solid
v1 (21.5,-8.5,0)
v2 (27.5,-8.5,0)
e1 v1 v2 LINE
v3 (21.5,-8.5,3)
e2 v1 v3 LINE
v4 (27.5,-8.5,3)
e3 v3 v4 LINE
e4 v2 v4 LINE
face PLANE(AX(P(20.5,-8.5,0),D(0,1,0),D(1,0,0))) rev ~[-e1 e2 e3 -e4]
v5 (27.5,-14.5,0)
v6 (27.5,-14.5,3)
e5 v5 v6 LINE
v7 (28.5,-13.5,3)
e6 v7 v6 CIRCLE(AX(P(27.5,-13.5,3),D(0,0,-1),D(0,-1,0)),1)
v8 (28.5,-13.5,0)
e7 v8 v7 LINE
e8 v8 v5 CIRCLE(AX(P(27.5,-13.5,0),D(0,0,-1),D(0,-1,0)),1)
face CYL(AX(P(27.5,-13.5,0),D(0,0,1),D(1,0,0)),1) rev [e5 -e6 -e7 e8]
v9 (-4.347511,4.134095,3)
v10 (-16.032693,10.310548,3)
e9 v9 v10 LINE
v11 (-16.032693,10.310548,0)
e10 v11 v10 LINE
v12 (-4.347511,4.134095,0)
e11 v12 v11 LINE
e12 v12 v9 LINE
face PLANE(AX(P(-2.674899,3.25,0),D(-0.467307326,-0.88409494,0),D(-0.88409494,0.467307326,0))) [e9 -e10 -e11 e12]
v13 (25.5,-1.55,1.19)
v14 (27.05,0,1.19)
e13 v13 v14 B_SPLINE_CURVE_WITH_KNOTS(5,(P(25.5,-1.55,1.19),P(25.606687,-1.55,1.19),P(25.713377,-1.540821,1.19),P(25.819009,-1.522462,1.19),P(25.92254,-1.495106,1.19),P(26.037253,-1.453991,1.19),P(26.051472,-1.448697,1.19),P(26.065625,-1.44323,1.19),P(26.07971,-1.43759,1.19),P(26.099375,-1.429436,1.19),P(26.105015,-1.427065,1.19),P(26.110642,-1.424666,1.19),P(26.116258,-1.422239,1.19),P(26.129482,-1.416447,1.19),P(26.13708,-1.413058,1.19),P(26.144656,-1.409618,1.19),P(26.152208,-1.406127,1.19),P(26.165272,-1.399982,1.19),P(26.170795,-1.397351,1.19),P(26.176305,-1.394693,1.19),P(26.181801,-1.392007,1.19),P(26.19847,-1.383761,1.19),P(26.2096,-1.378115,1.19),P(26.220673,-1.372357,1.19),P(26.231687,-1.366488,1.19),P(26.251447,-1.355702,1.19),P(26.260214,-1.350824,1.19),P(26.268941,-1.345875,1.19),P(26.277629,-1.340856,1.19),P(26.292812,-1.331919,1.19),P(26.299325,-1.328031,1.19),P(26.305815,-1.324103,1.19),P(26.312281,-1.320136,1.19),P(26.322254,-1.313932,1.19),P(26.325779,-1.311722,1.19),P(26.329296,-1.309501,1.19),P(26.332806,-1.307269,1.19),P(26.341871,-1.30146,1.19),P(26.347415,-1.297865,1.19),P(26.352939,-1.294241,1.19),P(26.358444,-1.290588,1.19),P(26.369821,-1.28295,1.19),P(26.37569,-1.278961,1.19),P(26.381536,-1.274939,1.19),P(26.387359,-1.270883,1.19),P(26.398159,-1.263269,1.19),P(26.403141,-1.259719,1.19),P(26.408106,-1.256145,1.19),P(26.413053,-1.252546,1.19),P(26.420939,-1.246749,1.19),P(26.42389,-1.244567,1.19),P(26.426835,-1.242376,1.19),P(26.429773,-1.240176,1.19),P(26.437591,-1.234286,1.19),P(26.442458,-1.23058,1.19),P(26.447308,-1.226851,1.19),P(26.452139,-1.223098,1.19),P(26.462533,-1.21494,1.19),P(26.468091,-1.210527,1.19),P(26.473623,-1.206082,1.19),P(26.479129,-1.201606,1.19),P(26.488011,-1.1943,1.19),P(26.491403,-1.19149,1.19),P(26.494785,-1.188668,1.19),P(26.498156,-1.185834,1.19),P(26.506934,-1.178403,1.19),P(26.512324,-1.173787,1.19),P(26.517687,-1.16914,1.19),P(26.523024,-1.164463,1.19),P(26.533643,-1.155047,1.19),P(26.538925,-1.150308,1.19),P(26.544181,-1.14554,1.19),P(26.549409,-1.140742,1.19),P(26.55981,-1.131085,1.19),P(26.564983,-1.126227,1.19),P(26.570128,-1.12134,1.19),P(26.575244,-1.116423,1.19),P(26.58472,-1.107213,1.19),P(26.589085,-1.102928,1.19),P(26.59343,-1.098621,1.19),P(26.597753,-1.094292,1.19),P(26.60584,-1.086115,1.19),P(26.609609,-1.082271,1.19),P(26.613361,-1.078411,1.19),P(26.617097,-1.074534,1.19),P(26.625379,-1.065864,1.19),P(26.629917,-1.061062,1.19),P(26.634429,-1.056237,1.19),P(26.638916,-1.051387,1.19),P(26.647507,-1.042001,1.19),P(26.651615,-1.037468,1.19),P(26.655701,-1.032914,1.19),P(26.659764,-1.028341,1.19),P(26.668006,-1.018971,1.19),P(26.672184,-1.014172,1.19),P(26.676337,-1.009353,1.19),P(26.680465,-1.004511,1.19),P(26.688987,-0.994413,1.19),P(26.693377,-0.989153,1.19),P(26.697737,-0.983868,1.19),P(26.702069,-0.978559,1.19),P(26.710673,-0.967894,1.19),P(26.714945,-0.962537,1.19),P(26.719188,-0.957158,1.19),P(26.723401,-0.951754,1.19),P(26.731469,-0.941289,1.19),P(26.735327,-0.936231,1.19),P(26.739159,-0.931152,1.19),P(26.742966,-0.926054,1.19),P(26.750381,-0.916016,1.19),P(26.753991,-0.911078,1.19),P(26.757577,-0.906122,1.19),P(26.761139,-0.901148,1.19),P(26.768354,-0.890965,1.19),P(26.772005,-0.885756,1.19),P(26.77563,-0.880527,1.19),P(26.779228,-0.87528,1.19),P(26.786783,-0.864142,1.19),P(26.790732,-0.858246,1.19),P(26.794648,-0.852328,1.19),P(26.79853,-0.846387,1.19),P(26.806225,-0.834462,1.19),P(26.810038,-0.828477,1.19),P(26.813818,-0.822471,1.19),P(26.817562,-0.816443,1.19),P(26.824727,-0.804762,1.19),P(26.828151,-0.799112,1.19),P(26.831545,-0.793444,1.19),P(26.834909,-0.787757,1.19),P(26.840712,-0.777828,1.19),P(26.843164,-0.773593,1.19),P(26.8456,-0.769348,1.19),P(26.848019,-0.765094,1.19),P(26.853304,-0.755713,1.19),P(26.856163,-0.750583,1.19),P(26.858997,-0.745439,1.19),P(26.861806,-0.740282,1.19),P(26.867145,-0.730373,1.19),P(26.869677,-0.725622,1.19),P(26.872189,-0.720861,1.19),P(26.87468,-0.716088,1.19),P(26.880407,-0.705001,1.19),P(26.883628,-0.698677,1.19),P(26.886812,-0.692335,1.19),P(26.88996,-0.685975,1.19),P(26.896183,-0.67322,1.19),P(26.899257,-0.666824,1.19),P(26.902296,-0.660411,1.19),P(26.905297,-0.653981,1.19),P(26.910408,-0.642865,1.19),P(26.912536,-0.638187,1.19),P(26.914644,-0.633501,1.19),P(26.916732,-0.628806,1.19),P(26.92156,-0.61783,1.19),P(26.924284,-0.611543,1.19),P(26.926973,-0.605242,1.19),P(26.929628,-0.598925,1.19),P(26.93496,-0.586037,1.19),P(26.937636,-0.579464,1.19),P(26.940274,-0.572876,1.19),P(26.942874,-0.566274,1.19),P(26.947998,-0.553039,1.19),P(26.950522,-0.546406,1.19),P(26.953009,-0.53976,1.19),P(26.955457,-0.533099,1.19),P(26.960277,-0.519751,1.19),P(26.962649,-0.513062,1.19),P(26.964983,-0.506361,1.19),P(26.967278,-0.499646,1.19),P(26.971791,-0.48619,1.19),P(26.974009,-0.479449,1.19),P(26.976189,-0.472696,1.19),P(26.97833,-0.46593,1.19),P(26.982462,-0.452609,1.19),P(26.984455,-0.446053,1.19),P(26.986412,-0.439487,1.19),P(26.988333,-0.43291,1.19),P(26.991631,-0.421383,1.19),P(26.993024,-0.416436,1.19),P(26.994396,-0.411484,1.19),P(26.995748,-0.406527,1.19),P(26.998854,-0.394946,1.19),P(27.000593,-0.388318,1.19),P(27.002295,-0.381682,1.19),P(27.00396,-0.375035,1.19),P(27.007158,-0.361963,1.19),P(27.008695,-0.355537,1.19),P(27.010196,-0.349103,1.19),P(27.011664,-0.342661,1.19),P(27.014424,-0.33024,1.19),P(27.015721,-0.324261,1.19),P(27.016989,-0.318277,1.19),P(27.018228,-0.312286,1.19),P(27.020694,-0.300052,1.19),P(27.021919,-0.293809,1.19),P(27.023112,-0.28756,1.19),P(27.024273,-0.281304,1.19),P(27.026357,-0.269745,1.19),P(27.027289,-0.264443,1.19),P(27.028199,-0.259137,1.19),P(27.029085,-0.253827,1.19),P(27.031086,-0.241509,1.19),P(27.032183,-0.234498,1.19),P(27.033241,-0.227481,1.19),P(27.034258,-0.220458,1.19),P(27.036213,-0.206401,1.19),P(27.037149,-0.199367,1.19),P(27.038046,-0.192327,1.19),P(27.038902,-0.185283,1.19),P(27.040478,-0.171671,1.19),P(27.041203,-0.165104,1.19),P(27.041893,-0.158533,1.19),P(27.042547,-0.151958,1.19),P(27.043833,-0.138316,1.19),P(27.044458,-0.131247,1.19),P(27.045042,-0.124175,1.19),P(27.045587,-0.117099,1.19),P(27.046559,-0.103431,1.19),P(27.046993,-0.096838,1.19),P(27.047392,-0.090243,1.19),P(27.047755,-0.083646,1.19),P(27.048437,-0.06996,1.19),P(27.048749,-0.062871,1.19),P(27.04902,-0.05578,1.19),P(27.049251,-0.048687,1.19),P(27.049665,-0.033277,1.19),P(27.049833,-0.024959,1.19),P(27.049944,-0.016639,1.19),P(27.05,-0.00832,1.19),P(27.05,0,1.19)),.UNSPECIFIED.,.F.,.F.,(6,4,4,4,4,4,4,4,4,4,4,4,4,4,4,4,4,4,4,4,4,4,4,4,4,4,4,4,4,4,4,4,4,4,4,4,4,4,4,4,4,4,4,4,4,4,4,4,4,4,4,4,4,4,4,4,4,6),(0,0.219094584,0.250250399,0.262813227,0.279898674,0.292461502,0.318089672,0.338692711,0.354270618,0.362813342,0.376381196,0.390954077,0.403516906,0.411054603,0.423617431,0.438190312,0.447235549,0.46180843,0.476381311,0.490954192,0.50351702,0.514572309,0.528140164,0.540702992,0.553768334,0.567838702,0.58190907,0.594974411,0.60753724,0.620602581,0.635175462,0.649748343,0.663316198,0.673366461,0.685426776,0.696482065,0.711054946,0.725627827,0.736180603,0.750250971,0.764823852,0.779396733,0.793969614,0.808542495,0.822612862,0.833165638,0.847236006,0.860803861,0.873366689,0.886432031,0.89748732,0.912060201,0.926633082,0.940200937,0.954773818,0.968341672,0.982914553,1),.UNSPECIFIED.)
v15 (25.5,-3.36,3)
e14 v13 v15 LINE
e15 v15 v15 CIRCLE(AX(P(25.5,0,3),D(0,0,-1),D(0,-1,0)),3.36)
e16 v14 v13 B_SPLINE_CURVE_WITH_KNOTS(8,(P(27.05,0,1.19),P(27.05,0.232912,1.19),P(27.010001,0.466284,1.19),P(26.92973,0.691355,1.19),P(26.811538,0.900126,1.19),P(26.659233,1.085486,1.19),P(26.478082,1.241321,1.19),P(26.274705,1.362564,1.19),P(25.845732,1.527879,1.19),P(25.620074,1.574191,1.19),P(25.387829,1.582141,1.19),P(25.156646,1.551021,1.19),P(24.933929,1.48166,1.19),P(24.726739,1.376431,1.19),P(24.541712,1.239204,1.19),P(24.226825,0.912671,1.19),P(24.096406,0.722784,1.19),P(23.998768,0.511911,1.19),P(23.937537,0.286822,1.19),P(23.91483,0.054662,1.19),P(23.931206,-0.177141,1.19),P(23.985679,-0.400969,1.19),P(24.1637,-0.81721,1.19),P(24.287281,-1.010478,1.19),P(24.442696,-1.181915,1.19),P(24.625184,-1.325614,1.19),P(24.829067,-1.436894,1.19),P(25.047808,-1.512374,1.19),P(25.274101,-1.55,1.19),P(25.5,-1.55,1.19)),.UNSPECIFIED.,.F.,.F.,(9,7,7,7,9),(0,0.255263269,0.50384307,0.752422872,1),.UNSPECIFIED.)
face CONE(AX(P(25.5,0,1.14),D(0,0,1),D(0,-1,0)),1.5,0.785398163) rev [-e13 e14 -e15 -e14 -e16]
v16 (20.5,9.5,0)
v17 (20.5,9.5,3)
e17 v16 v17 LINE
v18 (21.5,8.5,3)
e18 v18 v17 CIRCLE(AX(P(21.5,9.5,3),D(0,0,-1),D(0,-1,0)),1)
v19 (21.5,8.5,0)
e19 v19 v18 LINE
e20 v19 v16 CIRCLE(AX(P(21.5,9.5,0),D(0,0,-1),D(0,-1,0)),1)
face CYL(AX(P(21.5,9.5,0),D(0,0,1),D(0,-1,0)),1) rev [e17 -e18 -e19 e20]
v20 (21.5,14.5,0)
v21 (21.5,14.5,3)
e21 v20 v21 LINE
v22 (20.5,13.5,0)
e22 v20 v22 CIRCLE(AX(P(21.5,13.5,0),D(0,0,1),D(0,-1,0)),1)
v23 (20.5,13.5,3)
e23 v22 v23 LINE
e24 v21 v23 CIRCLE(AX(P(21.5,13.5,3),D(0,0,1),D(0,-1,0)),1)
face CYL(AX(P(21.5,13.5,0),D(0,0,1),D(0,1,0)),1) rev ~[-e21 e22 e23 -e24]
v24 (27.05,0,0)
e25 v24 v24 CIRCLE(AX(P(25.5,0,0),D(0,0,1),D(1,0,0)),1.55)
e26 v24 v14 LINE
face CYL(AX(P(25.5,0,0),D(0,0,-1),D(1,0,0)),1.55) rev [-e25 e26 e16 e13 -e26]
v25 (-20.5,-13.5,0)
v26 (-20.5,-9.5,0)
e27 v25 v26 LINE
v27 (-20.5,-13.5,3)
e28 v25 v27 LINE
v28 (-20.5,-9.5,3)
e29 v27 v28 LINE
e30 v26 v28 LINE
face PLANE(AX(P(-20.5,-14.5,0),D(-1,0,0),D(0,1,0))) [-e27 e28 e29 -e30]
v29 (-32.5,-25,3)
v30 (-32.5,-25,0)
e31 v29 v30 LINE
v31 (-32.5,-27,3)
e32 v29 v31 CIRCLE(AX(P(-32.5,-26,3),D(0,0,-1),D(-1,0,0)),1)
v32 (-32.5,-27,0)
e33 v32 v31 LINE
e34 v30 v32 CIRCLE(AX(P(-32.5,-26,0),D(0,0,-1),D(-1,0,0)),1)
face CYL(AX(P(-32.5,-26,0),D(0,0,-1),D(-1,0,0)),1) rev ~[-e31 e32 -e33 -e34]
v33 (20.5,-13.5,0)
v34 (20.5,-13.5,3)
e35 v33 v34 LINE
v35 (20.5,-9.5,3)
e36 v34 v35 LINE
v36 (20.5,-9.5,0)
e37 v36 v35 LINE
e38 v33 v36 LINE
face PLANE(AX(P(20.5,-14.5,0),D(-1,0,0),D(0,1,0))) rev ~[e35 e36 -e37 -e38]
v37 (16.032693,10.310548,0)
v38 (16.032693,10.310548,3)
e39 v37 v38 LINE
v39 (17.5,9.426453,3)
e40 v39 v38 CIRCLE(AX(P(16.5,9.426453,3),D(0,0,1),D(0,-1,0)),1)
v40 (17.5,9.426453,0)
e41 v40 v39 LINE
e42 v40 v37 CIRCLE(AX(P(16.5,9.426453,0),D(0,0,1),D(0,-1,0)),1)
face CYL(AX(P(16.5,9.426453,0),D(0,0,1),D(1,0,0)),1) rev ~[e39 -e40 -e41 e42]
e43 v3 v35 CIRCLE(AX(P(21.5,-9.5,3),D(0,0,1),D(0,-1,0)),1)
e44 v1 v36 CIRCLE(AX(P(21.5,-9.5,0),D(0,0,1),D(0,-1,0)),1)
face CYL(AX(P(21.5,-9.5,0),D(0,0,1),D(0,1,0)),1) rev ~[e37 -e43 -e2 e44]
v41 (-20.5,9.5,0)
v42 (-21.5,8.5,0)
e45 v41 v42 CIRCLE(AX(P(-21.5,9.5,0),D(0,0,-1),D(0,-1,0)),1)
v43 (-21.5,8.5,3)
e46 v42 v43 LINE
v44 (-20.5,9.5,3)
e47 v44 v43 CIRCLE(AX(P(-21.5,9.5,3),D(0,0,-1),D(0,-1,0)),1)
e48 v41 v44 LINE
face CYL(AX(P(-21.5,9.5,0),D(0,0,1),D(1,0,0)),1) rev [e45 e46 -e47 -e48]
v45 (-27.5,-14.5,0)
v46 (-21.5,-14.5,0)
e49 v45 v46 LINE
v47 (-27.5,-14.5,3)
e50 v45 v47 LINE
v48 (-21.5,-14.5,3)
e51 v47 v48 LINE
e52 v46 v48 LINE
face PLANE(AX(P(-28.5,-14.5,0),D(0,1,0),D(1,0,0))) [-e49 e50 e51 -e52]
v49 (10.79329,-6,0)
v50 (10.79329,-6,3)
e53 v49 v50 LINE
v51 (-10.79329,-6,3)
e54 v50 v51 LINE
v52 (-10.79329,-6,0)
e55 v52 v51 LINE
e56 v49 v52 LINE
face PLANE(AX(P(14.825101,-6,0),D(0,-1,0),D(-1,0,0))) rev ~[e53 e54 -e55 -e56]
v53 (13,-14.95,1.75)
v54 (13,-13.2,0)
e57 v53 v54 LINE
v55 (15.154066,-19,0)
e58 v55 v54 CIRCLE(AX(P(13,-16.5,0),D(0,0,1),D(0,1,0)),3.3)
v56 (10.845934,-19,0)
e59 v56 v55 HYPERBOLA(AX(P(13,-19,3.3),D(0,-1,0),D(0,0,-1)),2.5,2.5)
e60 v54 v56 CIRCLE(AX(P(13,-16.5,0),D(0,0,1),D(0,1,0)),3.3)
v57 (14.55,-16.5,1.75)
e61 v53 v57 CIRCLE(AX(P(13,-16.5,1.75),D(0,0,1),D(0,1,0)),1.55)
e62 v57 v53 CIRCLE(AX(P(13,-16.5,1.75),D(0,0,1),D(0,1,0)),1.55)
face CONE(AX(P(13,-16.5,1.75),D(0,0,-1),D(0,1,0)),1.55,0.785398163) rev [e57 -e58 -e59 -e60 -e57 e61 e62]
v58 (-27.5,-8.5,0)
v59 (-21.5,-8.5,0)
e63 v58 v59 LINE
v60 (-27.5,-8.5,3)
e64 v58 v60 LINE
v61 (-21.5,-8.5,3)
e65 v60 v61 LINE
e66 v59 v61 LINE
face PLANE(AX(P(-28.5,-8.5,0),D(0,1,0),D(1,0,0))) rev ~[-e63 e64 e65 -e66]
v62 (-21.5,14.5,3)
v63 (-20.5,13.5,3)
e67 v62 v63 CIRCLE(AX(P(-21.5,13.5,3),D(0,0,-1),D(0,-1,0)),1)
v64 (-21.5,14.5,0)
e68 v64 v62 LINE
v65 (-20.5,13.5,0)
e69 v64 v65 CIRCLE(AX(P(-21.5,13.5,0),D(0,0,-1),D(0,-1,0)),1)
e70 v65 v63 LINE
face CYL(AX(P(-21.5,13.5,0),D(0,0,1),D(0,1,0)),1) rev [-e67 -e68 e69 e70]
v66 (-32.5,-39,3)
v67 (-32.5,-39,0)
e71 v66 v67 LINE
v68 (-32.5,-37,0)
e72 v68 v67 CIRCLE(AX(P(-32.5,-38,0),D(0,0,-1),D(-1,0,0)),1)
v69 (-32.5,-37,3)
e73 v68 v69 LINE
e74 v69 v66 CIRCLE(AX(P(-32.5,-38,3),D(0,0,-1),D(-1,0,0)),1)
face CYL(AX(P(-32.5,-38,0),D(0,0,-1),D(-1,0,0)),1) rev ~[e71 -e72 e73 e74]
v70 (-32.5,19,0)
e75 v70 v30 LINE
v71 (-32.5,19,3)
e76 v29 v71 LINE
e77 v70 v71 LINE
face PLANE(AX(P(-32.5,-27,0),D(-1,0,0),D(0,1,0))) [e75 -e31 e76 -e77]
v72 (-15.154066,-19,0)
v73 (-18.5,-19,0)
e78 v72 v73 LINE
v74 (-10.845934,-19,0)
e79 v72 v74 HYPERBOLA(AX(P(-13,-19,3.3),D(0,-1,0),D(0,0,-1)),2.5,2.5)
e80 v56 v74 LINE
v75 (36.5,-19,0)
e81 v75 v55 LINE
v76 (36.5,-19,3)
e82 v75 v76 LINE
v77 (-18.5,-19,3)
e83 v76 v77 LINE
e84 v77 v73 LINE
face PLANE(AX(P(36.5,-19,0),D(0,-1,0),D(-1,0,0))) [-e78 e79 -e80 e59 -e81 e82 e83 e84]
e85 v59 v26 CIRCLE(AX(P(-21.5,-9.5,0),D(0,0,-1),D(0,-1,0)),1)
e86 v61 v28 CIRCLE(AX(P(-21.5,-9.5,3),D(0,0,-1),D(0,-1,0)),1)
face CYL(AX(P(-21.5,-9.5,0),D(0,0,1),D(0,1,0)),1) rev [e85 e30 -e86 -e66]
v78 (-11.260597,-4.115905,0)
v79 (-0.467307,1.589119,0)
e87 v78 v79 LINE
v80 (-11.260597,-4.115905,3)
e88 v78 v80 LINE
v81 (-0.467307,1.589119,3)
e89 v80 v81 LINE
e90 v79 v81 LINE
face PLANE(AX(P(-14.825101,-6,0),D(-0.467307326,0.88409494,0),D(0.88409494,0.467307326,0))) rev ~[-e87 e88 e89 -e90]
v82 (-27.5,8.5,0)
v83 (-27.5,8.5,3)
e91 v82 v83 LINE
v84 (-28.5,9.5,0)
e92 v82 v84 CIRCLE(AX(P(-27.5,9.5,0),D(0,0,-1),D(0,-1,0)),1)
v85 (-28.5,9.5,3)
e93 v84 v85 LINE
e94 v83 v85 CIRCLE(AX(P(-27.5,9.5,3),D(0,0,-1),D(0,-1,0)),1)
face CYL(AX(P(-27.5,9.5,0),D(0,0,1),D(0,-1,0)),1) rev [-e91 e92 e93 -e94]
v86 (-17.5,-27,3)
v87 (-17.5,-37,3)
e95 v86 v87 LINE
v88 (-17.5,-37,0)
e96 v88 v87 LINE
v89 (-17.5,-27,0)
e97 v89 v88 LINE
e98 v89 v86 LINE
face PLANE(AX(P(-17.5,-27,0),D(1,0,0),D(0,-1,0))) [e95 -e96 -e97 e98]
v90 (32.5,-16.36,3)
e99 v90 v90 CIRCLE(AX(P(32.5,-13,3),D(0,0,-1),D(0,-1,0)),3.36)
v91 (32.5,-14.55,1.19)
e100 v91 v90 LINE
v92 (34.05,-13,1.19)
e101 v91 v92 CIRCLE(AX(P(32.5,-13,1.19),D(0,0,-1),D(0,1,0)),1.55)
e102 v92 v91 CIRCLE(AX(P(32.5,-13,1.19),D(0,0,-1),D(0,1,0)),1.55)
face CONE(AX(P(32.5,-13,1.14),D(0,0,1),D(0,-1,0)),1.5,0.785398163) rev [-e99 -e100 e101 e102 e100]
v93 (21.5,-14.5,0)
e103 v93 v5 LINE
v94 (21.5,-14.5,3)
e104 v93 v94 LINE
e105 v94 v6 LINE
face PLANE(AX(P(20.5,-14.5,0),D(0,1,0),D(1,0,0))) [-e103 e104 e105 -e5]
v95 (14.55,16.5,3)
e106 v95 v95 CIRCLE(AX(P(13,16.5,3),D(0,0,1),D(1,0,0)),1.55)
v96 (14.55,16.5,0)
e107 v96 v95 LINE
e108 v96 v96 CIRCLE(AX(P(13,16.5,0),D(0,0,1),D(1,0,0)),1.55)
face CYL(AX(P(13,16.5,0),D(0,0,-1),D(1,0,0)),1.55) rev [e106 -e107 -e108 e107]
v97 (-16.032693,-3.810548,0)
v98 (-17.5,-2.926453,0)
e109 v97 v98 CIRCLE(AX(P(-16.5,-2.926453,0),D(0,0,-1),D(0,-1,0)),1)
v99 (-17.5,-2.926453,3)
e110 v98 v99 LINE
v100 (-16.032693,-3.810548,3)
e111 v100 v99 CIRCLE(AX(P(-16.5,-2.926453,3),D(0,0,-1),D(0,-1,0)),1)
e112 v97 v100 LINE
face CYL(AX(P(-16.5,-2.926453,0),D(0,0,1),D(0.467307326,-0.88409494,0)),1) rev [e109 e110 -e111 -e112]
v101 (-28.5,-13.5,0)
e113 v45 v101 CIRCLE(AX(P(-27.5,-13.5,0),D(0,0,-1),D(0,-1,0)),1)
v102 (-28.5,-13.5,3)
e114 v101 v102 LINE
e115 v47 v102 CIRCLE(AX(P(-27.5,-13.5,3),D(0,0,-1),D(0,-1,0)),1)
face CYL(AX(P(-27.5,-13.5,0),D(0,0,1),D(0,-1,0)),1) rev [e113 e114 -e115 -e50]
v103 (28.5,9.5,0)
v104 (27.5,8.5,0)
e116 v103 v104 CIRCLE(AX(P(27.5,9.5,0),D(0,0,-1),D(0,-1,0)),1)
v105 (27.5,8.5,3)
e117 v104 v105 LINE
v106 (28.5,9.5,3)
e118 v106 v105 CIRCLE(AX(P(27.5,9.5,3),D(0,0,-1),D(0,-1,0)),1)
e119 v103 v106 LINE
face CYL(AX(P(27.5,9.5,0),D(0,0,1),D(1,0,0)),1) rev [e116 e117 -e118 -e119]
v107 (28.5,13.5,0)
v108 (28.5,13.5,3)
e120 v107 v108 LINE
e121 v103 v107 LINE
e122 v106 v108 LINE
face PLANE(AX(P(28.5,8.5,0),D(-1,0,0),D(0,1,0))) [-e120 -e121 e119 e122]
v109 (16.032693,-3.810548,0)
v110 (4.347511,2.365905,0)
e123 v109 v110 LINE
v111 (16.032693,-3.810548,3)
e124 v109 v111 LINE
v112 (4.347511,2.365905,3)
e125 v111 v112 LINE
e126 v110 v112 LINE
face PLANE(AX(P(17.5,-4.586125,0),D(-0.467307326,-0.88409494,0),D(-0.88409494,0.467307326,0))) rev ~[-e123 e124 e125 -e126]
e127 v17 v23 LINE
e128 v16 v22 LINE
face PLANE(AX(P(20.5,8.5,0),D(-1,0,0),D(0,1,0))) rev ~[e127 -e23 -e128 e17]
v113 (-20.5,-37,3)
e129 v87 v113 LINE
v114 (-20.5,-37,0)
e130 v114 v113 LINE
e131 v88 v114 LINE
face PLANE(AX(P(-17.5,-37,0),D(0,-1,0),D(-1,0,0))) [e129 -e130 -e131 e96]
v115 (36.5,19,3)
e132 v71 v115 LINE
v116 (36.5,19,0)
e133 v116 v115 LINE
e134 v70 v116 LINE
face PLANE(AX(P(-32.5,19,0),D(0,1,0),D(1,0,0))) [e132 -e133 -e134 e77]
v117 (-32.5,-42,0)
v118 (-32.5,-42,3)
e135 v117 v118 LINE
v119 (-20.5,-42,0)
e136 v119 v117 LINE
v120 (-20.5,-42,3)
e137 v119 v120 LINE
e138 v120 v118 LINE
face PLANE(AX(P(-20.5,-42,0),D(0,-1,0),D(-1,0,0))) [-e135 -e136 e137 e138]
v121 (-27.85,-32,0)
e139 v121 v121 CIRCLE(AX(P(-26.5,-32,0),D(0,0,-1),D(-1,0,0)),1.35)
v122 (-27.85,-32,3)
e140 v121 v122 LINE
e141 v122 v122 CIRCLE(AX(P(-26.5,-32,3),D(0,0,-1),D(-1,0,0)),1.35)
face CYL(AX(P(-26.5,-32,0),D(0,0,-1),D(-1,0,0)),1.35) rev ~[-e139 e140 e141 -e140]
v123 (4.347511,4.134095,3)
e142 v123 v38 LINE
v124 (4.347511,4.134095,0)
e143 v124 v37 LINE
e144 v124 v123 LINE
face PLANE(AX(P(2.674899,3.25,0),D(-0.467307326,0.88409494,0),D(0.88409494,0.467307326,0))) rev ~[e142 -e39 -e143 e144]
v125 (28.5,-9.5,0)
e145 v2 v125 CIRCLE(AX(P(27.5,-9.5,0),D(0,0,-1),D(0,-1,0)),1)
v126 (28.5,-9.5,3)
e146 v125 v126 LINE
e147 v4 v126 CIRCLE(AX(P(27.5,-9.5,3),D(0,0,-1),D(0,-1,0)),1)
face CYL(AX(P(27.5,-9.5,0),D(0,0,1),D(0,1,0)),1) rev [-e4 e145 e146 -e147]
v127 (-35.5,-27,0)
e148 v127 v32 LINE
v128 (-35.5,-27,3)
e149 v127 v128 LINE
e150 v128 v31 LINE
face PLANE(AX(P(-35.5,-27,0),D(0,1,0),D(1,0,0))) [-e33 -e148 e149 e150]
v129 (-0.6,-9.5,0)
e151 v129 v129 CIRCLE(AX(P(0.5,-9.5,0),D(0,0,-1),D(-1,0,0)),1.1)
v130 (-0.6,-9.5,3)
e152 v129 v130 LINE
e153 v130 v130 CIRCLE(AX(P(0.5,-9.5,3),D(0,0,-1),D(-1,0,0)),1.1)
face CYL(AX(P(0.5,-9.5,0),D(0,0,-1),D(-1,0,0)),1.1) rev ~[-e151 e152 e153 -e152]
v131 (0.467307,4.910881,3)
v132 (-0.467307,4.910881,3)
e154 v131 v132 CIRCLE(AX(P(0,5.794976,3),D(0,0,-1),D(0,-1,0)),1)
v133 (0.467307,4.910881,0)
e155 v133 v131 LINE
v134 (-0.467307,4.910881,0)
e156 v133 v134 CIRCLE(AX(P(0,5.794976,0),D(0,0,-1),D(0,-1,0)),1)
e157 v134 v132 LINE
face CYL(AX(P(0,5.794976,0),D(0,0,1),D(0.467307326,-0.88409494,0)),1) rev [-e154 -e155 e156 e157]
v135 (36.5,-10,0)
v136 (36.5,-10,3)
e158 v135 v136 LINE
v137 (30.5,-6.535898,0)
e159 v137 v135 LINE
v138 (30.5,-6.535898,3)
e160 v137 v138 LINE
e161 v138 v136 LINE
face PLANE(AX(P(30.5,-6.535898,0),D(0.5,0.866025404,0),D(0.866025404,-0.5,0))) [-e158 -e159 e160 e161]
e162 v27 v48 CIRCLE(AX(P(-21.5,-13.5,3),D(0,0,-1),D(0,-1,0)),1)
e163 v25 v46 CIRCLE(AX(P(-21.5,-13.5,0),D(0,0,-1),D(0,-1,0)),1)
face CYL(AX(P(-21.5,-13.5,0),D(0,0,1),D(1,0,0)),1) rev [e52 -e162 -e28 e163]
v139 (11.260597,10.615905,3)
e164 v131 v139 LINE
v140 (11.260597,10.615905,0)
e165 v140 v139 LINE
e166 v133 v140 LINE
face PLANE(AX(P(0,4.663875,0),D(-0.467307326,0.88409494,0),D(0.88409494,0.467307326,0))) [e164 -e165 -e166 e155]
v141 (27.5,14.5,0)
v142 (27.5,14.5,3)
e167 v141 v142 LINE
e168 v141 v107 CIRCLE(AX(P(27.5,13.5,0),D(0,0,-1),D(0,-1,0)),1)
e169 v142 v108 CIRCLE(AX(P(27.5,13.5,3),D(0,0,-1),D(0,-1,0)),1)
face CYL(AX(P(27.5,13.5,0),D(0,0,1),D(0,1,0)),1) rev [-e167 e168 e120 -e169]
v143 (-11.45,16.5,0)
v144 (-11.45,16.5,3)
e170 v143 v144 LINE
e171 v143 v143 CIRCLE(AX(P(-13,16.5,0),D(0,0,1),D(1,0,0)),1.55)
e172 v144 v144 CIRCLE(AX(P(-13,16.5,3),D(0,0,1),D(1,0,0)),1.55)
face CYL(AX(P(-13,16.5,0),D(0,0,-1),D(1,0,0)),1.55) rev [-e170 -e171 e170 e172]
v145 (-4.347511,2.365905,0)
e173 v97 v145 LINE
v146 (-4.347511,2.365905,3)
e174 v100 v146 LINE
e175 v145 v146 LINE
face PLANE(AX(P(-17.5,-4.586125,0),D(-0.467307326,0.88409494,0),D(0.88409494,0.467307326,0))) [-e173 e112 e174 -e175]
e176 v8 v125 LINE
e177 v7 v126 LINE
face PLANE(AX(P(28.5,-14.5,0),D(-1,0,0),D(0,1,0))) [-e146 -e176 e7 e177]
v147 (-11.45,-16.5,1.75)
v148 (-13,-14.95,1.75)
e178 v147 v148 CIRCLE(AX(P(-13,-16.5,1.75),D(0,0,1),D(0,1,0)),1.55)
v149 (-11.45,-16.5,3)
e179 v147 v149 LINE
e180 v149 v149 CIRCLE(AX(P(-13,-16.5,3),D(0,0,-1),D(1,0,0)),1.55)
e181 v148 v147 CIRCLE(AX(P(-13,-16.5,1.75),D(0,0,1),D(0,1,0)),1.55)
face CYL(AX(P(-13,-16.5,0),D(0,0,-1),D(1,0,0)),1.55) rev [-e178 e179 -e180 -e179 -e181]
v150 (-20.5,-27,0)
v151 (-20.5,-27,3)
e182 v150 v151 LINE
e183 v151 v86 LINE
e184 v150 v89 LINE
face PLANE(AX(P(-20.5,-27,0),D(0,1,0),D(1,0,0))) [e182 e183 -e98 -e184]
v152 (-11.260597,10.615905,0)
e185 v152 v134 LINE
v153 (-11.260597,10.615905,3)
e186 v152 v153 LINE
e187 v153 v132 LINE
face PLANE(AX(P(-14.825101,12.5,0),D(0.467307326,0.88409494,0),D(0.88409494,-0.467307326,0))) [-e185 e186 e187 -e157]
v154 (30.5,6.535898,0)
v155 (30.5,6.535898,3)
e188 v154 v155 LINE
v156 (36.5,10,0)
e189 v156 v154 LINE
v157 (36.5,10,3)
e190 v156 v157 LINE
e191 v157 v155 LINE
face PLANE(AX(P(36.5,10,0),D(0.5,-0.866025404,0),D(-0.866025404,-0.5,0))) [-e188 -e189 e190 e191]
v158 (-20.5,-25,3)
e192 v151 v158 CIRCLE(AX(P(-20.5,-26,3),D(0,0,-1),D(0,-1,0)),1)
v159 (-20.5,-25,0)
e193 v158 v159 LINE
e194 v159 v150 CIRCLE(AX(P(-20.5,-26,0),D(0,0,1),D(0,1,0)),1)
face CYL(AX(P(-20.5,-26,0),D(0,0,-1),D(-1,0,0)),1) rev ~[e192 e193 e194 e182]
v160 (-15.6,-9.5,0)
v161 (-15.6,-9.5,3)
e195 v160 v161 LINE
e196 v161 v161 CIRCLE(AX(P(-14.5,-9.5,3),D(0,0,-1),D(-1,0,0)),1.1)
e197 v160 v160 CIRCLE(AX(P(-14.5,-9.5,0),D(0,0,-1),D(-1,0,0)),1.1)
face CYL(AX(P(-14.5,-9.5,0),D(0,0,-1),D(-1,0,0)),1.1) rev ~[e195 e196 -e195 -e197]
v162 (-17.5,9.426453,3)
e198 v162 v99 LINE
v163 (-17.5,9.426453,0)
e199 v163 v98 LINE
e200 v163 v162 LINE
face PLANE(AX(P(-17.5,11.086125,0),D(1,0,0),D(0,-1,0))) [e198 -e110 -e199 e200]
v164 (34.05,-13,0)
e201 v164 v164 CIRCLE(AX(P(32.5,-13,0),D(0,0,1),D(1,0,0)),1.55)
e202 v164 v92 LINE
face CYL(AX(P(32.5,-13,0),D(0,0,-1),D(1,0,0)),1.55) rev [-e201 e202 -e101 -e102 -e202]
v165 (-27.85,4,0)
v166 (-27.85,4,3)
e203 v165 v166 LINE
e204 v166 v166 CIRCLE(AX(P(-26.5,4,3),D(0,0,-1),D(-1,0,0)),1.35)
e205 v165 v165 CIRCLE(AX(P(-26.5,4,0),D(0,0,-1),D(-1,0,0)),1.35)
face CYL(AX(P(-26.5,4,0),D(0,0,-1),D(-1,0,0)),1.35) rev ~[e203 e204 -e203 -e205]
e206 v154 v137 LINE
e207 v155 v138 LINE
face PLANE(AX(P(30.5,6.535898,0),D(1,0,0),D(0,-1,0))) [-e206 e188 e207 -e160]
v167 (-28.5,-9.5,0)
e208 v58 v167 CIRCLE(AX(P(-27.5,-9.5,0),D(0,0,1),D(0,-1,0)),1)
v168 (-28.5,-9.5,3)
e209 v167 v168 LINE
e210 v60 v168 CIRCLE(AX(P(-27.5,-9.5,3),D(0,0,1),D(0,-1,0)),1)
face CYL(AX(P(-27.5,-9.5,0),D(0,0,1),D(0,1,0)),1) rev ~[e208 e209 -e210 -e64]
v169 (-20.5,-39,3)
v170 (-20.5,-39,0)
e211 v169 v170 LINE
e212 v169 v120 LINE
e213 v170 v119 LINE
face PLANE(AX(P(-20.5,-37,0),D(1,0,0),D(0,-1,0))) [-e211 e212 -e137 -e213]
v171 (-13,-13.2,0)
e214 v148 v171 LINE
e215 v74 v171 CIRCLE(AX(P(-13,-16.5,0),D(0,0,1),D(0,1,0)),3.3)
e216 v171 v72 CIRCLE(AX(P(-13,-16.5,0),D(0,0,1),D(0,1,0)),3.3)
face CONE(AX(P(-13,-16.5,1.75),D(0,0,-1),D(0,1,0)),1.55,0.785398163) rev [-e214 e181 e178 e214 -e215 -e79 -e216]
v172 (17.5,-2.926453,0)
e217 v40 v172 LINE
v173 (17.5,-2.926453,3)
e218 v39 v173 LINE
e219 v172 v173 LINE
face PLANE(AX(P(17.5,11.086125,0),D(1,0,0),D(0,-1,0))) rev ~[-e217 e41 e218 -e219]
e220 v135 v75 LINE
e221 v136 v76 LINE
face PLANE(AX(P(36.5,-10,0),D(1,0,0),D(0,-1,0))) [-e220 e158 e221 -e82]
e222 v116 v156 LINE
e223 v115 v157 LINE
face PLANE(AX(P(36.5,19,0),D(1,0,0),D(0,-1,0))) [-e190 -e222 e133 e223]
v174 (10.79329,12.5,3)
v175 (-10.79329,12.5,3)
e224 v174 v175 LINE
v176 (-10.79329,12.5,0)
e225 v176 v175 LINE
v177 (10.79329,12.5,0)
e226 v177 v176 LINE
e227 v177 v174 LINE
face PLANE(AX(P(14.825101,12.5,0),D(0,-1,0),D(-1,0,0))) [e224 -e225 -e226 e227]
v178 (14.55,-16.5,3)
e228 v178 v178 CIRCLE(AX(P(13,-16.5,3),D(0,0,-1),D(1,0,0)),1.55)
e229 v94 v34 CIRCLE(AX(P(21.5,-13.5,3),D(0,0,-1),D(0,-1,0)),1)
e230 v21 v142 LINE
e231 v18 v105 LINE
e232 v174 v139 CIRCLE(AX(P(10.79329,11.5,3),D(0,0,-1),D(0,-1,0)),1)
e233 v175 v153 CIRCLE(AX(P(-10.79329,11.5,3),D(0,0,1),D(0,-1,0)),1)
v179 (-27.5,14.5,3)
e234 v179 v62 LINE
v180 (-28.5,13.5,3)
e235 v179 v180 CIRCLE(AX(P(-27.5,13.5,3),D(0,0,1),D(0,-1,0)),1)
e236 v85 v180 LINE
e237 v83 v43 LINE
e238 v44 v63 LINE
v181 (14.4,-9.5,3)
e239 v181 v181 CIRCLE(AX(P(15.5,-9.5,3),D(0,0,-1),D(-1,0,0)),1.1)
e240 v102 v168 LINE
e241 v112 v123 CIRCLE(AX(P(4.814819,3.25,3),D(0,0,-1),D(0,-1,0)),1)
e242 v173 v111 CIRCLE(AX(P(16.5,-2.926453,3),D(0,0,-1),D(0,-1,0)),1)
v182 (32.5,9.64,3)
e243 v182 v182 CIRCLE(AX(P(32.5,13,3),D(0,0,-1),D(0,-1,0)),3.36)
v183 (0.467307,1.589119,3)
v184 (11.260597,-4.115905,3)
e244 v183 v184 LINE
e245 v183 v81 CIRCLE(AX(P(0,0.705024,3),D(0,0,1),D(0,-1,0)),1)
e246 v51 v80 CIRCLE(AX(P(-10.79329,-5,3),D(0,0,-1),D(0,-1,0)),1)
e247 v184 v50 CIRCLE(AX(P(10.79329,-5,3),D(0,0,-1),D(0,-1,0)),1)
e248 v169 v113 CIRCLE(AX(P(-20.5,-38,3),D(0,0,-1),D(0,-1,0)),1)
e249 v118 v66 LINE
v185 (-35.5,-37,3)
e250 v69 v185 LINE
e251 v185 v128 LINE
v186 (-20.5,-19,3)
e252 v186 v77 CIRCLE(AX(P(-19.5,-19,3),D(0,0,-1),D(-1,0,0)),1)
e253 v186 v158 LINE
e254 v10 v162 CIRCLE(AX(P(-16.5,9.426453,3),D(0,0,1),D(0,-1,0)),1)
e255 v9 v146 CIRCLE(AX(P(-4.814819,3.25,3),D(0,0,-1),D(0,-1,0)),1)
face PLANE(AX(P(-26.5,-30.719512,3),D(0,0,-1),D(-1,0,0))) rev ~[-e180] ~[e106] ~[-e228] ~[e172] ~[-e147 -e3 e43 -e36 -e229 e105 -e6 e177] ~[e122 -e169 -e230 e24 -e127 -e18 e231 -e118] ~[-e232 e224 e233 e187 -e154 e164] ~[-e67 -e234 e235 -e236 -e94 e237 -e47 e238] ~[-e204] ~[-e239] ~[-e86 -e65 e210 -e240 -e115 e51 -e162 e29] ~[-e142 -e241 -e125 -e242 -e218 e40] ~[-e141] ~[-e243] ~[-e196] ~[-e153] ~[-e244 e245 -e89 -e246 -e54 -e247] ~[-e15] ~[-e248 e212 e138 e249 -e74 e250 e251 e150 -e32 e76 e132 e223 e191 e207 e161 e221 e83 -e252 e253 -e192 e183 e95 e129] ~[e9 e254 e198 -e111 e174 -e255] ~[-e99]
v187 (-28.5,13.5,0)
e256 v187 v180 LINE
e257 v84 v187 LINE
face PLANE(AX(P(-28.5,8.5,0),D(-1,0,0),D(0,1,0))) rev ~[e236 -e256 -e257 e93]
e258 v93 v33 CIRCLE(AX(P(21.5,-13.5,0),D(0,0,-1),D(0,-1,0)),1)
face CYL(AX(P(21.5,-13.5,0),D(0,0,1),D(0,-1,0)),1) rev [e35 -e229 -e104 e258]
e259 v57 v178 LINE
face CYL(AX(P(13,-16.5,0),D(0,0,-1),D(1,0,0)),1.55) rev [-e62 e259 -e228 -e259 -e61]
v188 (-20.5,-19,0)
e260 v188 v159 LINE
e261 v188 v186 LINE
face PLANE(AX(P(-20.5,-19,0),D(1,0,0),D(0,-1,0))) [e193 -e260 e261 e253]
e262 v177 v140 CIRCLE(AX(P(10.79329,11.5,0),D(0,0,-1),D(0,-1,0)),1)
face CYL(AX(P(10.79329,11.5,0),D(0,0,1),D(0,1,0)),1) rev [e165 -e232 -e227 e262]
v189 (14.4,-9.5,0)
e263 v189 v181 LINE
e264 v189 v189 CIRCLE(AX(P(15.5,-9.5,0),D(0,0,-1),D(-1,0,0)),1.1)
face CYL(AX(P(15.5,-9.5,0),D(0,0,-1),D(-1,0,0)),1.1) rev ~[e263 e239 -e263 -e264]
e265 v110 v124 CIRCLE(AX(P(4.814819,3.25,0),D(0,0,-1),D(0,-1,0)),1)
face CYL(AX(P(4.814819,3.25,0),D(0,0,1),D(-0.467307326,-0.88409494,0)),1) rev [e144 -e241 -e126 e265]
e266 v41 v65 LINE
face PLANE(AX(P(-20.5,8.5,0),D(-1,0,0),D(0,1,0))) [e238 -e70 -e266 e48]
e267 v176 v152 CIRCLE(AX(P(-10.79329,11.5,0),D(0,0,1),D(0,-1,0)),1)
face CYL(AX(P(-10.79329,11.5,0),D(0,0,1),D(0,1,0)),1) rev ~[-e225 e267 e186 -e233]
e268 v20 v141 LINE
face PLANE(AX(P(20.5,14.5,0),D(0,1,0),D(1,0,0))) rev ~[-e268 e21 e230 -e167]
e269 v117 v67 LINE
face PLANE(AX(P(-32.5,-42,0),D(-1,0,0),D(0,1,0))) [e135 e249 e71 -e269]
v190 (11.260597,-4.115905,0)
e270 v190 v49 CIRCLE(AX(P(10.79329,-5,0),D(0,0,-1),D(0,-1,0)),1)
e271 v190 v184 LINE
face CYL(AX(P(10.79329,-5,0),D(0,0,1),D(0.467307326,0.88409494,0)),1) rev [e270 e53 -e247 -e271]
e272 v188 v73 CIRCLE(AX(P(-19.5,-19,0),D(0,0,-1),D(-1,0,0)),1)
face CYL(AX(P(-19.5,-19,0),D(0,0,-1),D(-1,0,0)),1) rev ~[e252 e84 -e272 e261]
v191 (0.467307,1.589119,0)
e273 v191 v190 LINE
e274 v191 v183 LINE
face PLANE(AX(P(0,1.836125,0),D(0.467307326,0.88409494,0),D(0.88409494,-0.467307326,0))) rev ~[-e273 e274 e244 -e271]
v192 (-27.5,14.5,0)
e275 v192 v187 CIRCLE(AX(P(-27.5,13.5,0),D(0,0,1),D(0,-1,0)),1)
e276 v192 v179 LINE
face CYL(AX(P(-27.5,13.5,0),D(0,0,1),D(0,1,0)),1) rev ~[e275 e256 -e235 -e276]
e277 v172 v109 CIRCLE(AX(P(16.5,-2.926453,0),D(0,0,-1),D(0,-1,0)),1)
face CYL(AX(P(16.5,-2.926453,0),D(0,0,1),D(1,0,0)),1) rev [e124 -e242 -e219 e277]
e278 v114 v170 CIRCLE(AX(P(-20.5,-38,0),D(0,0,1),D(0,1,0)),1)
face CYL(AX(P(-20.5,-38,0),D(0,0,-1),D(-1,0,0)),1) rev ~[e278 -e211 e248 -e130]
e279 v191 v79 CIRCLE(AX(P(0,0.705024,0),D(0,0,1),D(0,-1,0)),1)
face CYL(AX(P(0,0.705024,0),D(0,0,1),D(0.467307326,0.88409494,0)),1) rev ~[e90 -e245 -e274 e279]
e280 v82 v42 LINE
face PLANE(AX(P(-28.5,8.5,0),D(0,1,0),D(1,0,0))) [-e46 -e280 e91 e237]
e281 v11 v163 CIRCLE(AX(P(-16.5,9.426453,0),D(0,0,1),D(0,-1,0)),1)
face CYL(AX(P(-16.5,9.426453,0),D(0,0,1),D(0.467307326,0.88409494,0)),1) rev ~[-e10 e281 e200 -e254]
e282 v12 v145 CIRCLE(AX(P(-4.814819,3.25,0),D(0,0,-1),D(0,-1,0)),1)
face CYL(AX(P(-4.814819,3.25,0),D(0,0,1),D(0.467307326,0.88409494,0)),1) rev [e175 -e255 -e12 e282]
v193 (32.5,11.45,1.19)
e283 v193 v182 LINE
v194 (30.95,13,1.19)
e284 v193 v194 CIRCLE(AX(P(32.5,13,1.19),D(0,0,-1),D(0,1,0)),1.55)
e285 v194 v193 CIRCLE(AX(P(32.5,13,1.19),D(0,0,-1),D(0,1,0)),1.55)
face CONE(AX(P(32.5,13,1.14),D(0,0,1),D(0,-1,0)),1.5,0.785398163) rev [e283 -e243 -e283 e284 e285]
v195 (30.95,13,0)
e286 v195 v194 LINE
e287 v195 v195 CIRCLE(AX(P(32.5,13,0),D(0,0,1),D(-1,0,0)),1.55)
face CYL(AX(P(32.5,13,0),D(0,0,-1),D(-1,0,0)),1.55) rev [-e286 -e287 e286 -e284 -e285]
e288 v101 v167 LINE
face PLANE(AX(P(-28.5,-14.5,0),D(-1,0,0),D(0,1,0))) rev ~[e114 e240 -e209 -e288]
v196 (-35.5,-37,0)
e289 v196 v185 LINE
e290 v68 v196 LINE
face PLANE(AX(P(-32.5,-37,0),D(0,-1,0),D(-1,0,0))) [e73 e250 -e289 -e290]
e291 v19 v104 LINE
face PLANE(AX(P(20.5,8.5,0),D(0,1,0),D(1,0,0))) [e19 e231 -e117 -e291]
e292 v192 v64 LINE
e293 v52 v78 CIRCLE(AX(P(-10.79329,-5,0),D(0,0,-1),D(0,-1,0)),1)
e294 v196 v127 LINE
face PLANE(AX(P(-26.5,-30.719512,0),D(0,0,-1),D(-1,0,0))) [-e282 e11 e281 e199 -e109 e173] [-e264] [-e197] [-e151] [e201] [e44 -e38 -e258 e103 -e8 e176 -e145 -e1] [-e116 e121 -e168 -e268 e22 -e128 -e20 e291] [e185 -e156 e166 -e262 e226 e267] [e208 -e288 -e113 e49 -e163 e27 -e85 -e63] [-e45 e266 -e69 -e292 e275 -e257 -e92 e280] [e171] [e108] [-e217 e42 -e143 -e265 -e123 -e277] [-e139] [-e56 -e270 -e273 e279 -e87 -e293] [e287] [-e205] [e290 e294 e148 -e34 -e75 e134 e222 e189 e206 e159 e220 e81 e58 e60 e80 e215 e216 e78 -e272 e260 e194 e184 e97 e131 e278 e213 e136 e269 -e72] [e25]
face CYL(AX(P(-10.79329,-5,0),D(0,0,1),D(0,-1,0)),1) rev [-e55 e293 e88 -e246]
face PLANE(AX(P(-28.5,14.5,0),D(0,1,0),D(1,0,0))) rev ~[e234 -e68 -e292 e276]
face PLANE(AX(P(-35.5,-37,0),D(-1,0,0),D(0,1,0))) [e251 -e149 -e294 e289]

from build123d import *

# Parameters (mm, degrees)
SKETCH_1_R                  = 1.55
SKETCH_1_W                  = 8
SKETCH_1_H                  = 6
EXTRUDE_1_DEPTH             = 3
HOLE_WIZARD_M3_1_AT_2_COUNT = 2
HOLE_WIZARD_M3_1_AT_2_PITCH = 14.76482306
HOLE_WIZARD_M3_1_AT_3_COUNT = 2
HOLE_WIZARD_M3_1_AT_3_PITCH = 26
SKETCH_3_R                  = 1.1
SKETCH_3_R_2                = 1.35
CUT_EXTRUDE_1_DEPTH         = 42.258332492
SKETCH_4_R                  = 1.35
EXTRUDE_2_DEPTH             = 3
SKETCH_5_R                  = 1
CUT_EXTRUDE_2_DEPTH         = 56.724770076
FILLET_1_R                  = 1
HOLE_WIZARD_1_AT_2_COUNT    = 2
HOLE_WIZARD_1_AT_2_PITCH    = 26


with BuildPart() as part:
    # 草图1 → 凸台-拉伸1 (new body)
    with BuildSketch(Plane.XY):
        Polygon((36.5, -19), (-32.5, -19), (-32.5, 19), (36.5, 19), (36.5, 10), (30.5, 6.535898385), (30.5, -6.535898385), (36.5, -10), align=None)
        with Locations((-13, 16.5)):
            Circle(SKETCH_1_R, mode=Mode.SUBTRACT)
        with Locations((-13, -16.5)):
            Circle(SKETCH_1_R, mode=Mode.SUBTRACT)
        with Locations((13, -16.5)):
            Circle(SKETCH_1_R, mode=Mode.SUBTRACT)
        with Locations((13, 16.5)):
            Circle(SKETCH_1_R, mode=Mode.SUBTRACT)
        with Locations((32.5, -13)):
            Circle(SKETCH_1_R, mode=Mode.SUBTRACT)
        with Locations(Location((32.5, 13, 0), (0, 0, 180))):
            Circle(SKETCH_1_R, mode=Mode.SUBTRACT)
        with Locations((25.5, 0)):
            Circle(SKETCH_1_R, mode=Mode.SUBTRACT)
        with Locations((-24.5, -11.5)):
            Rectangle(SKETCH_1_W, SKETCH_1_H, mode=Mode.SUBTRACT)
        with Locations((-24.5, 11.5)):
            Rectangle(SKETCH_1_W, SKETCH_1_H, mode=Mode.SUBTRACT)
        with Locations((24.5, -11.5)):
            Rectangle(SKETCH_1_W, SKETCH_1_H, mode=Mode.SUBTRACT)
        with Locations((24.5, 11.5)):
            Rectangle(SKETCH_1_W, SKETCH_1_H, mode=Mode.SUBTRACT)
    extrude(amount=EXTRUDE_1_DEPTH)

    # 草图2 → M3 六角凹锥坑螺钉的锥形沉头孔1 (revolve, cut)
    with BuildSketch(Plane(origin=(32.5, 13, 3), x_dir=(0, -1, 0), z_dir=(1, 0, 0))):
        Polygon((0, 0), (0, 3), (1.5, 3), (1.5, 1.86), (3.36, 0), align=None)
    hole_wizard_m3_1 = revolve(axis=Axis((32.5, 13, 9.35), (0, 0, -1)), mode=Mode.SUBTRACT)

    # M3 六角凹锥坑螺钉的锥形沉头孔1 at 2: M3 六角凹锥坑螺钉的锥形沉头孔1 ×2
    with Locations(*[Vector(-0.4740998230350173, -0.8804710999221754, 0) * (i * HOLE_WIZARD_M3_1_AT_2_PITCH) for i in range(1, HOLE_WIZARD_M3_1_AT_2_COUNT)]):
        add(hole_wizard_m3_1, mode=Mode.SUBTRACT)

    # M3 六角凹锥坑螺钉的锥形沉头孔1 at 3: M3 六角凹锥坑螺钉的锥形沉头孔1 ×2
    with Locations(*[(0, -i * HOLE_WIZARD_M3_1_AT_3_PITCH, 0) for i in range(1, HOLE_WIZARD_M3_1_AT_3_COUNT)]):
        add(hole_wizard_m3_1, mode=Mode.SUBTRACT)

    # 草图3 → 切除-拉伸1 (cut, through all)
    with BuildSketch(Plane(origin=(0, 0, 0), x_dir=(-1, 0, 0), z_dir=(0, 0, -1))):
        with Locations((14.5, -9.5)):
            Circle(SKETCH_3_R)
        with Locations((-0.5, -9.5)):
            Circle(SKETCH_3_R)
        with Locations((-15.5, -9.5)):
            Circle(SKETCH_3_R)
        with Locations((26.5, 4)):
            Circle(SKETCH_3_R_2)
        Polygon((14.825100782, -6), (0, 1.836124699), (-14.825100782, -6), align=None)
        Polygon((17.5, -4.586124699), (2.674899218, 3.25), (17.5, 11.086124699), align=None)
        Polygon((0, 4.663875301), (-14.825100782, 12.5), (14.825100782, 12.5), align=None)
        Polygon((-2.674899218, 3.25), (-17.5, 11.086124699), (-17.5, -4.586124699), align=None)
    extrude(amount=-CUT_EXTRUDE_1_DEPTH, mode=Mode.SUBTRACT)

    # 草图4 → 凸台-拉伸2 (add)
    with BuildSketch(Plane(origin=(0, 0, 0), x_dir=(-1, 0, 0), z_dir=(0, 0, -1))):
        Polygon((32.5, -19), (20.5, -19), (20.5, -22), (20.5, -27), (17.5, -27), (17.5, -37), (20.5, -37), (20.5, -42), (32.5, -42), (32.5, -37), (35.5, -37), (35.5, -27), (32.5, -27), (32.5, -22), align=None)
        with Locations((26.5, -32)):
            Circle(SKETCH_4_R, mode=Mode.SUBTRACT)
    extrude(amount=-EXTRUDE_2_DEPTH)

    # 草图5 → 切除-拉伸2 (cut, through all)
    with BuildSketch(Plane(origin=(0, 0, 0), x_dir=(-1, 0, 0), z_dir=(0, 0, -1))):
        with Locations((32.5, -38)):
            Circle(SKETCH_5_R)
        with Locations((32.5, -26)):
            Circle(SKETCH_5_R)
        with Locations((19.5, -19)):
            Circle(SKETCH_5_R)
        with Locations((20.5, -38)):
            Circle(SKETCH_5_R)
        with Locations((20.5, -26)):
            Circle(SKETCH_5_R)
    extrude(amount=-CUT_EXTRUDE_2_DEPTH, mode=Mode.SUBTRACT)

    # 圆角1
    fillet_1_edges = [part.edges().sort_by_distance(p)[0] for p in [
        (-14.825100782, -6, 1.5),
        (14.825100782, -6, 1.5),
        (0, 1.836124699, 1.5),
        (2.674899218, 3.25, 1.5),
        (17.5, -4.586124699, 1.5),
        (17.5, 11.086124699, 1.5),
        (-17.5, 11.086124699, 1.5),
        (-17.5, -4.586124699, 1.5),
        (-2.674899218, 3.25, 1.5),
        (-14.825100782, 12.5, 1.5),
        (0, 4.663875301, 1.5),
        (14.825100782, 12.5, 1.5),
        (-28.5, 14.5, 1.5),
        (-28.5, 8.5, 1.5),
        (-20.5, 8.5, 1.5),
        (-20.5, 14.5, 1.5),
        (-20.5, -14.5, 1.5),
        (-20.5, -8.5, 1.5),
        (-28.5, -8.5, 1.5),
        (-28.5, -14.5, 1.5),
        (28.5, -8.5, 1.5),
        (20.5, -8.5, 1.5),
        (20.5, -14.5, 1.5),
        (28.5, -14.5, 1.5),
        (20.5, 14.5, 1.5),
        (20.5, 8.5, 1.5),
        (28.5, 8.5, 1.5),
        (28.5, 14.5, 1.5),
    ]]
    fillet(fillet_1_edges, radius=FILLET_1_R)

    # 草图6 → 打孔尺寸(%根据十字)槽沉头木螺钉的类型1 (revolve, cut)
    with BuildSketch(Plane(origin=(-13, -16.5, 0), x_dir=(0, 1, 0), z_dir=(1, 0, 0))):
        Polygon((0, 0), (0, 3), (1.55, 3), (1.55, 1.75), (3.3, 0), align=None)
    hole_wizard_1 = revolve(axis=Axis((-13, -16.5, -6.35), (0, 0, 1)), mode=Mode.SUBTRACT)

    # 打孔尺寸(%根据十字)槽沉头木螺钉的类型1 at 2: 打孔尺寸(%根据十字)槽沉头木螺钉的类型1 ×2
    with Locations(*[(i * HOLE_WIZARD_1_AT_2_PITCH, 0, 0) for i in range(1, HOLE_WIZARD_1_AT_2_COUNT)]):
        add(hole_wizard_1, mode=Mode.SUBTRACT)


solid = part.part
